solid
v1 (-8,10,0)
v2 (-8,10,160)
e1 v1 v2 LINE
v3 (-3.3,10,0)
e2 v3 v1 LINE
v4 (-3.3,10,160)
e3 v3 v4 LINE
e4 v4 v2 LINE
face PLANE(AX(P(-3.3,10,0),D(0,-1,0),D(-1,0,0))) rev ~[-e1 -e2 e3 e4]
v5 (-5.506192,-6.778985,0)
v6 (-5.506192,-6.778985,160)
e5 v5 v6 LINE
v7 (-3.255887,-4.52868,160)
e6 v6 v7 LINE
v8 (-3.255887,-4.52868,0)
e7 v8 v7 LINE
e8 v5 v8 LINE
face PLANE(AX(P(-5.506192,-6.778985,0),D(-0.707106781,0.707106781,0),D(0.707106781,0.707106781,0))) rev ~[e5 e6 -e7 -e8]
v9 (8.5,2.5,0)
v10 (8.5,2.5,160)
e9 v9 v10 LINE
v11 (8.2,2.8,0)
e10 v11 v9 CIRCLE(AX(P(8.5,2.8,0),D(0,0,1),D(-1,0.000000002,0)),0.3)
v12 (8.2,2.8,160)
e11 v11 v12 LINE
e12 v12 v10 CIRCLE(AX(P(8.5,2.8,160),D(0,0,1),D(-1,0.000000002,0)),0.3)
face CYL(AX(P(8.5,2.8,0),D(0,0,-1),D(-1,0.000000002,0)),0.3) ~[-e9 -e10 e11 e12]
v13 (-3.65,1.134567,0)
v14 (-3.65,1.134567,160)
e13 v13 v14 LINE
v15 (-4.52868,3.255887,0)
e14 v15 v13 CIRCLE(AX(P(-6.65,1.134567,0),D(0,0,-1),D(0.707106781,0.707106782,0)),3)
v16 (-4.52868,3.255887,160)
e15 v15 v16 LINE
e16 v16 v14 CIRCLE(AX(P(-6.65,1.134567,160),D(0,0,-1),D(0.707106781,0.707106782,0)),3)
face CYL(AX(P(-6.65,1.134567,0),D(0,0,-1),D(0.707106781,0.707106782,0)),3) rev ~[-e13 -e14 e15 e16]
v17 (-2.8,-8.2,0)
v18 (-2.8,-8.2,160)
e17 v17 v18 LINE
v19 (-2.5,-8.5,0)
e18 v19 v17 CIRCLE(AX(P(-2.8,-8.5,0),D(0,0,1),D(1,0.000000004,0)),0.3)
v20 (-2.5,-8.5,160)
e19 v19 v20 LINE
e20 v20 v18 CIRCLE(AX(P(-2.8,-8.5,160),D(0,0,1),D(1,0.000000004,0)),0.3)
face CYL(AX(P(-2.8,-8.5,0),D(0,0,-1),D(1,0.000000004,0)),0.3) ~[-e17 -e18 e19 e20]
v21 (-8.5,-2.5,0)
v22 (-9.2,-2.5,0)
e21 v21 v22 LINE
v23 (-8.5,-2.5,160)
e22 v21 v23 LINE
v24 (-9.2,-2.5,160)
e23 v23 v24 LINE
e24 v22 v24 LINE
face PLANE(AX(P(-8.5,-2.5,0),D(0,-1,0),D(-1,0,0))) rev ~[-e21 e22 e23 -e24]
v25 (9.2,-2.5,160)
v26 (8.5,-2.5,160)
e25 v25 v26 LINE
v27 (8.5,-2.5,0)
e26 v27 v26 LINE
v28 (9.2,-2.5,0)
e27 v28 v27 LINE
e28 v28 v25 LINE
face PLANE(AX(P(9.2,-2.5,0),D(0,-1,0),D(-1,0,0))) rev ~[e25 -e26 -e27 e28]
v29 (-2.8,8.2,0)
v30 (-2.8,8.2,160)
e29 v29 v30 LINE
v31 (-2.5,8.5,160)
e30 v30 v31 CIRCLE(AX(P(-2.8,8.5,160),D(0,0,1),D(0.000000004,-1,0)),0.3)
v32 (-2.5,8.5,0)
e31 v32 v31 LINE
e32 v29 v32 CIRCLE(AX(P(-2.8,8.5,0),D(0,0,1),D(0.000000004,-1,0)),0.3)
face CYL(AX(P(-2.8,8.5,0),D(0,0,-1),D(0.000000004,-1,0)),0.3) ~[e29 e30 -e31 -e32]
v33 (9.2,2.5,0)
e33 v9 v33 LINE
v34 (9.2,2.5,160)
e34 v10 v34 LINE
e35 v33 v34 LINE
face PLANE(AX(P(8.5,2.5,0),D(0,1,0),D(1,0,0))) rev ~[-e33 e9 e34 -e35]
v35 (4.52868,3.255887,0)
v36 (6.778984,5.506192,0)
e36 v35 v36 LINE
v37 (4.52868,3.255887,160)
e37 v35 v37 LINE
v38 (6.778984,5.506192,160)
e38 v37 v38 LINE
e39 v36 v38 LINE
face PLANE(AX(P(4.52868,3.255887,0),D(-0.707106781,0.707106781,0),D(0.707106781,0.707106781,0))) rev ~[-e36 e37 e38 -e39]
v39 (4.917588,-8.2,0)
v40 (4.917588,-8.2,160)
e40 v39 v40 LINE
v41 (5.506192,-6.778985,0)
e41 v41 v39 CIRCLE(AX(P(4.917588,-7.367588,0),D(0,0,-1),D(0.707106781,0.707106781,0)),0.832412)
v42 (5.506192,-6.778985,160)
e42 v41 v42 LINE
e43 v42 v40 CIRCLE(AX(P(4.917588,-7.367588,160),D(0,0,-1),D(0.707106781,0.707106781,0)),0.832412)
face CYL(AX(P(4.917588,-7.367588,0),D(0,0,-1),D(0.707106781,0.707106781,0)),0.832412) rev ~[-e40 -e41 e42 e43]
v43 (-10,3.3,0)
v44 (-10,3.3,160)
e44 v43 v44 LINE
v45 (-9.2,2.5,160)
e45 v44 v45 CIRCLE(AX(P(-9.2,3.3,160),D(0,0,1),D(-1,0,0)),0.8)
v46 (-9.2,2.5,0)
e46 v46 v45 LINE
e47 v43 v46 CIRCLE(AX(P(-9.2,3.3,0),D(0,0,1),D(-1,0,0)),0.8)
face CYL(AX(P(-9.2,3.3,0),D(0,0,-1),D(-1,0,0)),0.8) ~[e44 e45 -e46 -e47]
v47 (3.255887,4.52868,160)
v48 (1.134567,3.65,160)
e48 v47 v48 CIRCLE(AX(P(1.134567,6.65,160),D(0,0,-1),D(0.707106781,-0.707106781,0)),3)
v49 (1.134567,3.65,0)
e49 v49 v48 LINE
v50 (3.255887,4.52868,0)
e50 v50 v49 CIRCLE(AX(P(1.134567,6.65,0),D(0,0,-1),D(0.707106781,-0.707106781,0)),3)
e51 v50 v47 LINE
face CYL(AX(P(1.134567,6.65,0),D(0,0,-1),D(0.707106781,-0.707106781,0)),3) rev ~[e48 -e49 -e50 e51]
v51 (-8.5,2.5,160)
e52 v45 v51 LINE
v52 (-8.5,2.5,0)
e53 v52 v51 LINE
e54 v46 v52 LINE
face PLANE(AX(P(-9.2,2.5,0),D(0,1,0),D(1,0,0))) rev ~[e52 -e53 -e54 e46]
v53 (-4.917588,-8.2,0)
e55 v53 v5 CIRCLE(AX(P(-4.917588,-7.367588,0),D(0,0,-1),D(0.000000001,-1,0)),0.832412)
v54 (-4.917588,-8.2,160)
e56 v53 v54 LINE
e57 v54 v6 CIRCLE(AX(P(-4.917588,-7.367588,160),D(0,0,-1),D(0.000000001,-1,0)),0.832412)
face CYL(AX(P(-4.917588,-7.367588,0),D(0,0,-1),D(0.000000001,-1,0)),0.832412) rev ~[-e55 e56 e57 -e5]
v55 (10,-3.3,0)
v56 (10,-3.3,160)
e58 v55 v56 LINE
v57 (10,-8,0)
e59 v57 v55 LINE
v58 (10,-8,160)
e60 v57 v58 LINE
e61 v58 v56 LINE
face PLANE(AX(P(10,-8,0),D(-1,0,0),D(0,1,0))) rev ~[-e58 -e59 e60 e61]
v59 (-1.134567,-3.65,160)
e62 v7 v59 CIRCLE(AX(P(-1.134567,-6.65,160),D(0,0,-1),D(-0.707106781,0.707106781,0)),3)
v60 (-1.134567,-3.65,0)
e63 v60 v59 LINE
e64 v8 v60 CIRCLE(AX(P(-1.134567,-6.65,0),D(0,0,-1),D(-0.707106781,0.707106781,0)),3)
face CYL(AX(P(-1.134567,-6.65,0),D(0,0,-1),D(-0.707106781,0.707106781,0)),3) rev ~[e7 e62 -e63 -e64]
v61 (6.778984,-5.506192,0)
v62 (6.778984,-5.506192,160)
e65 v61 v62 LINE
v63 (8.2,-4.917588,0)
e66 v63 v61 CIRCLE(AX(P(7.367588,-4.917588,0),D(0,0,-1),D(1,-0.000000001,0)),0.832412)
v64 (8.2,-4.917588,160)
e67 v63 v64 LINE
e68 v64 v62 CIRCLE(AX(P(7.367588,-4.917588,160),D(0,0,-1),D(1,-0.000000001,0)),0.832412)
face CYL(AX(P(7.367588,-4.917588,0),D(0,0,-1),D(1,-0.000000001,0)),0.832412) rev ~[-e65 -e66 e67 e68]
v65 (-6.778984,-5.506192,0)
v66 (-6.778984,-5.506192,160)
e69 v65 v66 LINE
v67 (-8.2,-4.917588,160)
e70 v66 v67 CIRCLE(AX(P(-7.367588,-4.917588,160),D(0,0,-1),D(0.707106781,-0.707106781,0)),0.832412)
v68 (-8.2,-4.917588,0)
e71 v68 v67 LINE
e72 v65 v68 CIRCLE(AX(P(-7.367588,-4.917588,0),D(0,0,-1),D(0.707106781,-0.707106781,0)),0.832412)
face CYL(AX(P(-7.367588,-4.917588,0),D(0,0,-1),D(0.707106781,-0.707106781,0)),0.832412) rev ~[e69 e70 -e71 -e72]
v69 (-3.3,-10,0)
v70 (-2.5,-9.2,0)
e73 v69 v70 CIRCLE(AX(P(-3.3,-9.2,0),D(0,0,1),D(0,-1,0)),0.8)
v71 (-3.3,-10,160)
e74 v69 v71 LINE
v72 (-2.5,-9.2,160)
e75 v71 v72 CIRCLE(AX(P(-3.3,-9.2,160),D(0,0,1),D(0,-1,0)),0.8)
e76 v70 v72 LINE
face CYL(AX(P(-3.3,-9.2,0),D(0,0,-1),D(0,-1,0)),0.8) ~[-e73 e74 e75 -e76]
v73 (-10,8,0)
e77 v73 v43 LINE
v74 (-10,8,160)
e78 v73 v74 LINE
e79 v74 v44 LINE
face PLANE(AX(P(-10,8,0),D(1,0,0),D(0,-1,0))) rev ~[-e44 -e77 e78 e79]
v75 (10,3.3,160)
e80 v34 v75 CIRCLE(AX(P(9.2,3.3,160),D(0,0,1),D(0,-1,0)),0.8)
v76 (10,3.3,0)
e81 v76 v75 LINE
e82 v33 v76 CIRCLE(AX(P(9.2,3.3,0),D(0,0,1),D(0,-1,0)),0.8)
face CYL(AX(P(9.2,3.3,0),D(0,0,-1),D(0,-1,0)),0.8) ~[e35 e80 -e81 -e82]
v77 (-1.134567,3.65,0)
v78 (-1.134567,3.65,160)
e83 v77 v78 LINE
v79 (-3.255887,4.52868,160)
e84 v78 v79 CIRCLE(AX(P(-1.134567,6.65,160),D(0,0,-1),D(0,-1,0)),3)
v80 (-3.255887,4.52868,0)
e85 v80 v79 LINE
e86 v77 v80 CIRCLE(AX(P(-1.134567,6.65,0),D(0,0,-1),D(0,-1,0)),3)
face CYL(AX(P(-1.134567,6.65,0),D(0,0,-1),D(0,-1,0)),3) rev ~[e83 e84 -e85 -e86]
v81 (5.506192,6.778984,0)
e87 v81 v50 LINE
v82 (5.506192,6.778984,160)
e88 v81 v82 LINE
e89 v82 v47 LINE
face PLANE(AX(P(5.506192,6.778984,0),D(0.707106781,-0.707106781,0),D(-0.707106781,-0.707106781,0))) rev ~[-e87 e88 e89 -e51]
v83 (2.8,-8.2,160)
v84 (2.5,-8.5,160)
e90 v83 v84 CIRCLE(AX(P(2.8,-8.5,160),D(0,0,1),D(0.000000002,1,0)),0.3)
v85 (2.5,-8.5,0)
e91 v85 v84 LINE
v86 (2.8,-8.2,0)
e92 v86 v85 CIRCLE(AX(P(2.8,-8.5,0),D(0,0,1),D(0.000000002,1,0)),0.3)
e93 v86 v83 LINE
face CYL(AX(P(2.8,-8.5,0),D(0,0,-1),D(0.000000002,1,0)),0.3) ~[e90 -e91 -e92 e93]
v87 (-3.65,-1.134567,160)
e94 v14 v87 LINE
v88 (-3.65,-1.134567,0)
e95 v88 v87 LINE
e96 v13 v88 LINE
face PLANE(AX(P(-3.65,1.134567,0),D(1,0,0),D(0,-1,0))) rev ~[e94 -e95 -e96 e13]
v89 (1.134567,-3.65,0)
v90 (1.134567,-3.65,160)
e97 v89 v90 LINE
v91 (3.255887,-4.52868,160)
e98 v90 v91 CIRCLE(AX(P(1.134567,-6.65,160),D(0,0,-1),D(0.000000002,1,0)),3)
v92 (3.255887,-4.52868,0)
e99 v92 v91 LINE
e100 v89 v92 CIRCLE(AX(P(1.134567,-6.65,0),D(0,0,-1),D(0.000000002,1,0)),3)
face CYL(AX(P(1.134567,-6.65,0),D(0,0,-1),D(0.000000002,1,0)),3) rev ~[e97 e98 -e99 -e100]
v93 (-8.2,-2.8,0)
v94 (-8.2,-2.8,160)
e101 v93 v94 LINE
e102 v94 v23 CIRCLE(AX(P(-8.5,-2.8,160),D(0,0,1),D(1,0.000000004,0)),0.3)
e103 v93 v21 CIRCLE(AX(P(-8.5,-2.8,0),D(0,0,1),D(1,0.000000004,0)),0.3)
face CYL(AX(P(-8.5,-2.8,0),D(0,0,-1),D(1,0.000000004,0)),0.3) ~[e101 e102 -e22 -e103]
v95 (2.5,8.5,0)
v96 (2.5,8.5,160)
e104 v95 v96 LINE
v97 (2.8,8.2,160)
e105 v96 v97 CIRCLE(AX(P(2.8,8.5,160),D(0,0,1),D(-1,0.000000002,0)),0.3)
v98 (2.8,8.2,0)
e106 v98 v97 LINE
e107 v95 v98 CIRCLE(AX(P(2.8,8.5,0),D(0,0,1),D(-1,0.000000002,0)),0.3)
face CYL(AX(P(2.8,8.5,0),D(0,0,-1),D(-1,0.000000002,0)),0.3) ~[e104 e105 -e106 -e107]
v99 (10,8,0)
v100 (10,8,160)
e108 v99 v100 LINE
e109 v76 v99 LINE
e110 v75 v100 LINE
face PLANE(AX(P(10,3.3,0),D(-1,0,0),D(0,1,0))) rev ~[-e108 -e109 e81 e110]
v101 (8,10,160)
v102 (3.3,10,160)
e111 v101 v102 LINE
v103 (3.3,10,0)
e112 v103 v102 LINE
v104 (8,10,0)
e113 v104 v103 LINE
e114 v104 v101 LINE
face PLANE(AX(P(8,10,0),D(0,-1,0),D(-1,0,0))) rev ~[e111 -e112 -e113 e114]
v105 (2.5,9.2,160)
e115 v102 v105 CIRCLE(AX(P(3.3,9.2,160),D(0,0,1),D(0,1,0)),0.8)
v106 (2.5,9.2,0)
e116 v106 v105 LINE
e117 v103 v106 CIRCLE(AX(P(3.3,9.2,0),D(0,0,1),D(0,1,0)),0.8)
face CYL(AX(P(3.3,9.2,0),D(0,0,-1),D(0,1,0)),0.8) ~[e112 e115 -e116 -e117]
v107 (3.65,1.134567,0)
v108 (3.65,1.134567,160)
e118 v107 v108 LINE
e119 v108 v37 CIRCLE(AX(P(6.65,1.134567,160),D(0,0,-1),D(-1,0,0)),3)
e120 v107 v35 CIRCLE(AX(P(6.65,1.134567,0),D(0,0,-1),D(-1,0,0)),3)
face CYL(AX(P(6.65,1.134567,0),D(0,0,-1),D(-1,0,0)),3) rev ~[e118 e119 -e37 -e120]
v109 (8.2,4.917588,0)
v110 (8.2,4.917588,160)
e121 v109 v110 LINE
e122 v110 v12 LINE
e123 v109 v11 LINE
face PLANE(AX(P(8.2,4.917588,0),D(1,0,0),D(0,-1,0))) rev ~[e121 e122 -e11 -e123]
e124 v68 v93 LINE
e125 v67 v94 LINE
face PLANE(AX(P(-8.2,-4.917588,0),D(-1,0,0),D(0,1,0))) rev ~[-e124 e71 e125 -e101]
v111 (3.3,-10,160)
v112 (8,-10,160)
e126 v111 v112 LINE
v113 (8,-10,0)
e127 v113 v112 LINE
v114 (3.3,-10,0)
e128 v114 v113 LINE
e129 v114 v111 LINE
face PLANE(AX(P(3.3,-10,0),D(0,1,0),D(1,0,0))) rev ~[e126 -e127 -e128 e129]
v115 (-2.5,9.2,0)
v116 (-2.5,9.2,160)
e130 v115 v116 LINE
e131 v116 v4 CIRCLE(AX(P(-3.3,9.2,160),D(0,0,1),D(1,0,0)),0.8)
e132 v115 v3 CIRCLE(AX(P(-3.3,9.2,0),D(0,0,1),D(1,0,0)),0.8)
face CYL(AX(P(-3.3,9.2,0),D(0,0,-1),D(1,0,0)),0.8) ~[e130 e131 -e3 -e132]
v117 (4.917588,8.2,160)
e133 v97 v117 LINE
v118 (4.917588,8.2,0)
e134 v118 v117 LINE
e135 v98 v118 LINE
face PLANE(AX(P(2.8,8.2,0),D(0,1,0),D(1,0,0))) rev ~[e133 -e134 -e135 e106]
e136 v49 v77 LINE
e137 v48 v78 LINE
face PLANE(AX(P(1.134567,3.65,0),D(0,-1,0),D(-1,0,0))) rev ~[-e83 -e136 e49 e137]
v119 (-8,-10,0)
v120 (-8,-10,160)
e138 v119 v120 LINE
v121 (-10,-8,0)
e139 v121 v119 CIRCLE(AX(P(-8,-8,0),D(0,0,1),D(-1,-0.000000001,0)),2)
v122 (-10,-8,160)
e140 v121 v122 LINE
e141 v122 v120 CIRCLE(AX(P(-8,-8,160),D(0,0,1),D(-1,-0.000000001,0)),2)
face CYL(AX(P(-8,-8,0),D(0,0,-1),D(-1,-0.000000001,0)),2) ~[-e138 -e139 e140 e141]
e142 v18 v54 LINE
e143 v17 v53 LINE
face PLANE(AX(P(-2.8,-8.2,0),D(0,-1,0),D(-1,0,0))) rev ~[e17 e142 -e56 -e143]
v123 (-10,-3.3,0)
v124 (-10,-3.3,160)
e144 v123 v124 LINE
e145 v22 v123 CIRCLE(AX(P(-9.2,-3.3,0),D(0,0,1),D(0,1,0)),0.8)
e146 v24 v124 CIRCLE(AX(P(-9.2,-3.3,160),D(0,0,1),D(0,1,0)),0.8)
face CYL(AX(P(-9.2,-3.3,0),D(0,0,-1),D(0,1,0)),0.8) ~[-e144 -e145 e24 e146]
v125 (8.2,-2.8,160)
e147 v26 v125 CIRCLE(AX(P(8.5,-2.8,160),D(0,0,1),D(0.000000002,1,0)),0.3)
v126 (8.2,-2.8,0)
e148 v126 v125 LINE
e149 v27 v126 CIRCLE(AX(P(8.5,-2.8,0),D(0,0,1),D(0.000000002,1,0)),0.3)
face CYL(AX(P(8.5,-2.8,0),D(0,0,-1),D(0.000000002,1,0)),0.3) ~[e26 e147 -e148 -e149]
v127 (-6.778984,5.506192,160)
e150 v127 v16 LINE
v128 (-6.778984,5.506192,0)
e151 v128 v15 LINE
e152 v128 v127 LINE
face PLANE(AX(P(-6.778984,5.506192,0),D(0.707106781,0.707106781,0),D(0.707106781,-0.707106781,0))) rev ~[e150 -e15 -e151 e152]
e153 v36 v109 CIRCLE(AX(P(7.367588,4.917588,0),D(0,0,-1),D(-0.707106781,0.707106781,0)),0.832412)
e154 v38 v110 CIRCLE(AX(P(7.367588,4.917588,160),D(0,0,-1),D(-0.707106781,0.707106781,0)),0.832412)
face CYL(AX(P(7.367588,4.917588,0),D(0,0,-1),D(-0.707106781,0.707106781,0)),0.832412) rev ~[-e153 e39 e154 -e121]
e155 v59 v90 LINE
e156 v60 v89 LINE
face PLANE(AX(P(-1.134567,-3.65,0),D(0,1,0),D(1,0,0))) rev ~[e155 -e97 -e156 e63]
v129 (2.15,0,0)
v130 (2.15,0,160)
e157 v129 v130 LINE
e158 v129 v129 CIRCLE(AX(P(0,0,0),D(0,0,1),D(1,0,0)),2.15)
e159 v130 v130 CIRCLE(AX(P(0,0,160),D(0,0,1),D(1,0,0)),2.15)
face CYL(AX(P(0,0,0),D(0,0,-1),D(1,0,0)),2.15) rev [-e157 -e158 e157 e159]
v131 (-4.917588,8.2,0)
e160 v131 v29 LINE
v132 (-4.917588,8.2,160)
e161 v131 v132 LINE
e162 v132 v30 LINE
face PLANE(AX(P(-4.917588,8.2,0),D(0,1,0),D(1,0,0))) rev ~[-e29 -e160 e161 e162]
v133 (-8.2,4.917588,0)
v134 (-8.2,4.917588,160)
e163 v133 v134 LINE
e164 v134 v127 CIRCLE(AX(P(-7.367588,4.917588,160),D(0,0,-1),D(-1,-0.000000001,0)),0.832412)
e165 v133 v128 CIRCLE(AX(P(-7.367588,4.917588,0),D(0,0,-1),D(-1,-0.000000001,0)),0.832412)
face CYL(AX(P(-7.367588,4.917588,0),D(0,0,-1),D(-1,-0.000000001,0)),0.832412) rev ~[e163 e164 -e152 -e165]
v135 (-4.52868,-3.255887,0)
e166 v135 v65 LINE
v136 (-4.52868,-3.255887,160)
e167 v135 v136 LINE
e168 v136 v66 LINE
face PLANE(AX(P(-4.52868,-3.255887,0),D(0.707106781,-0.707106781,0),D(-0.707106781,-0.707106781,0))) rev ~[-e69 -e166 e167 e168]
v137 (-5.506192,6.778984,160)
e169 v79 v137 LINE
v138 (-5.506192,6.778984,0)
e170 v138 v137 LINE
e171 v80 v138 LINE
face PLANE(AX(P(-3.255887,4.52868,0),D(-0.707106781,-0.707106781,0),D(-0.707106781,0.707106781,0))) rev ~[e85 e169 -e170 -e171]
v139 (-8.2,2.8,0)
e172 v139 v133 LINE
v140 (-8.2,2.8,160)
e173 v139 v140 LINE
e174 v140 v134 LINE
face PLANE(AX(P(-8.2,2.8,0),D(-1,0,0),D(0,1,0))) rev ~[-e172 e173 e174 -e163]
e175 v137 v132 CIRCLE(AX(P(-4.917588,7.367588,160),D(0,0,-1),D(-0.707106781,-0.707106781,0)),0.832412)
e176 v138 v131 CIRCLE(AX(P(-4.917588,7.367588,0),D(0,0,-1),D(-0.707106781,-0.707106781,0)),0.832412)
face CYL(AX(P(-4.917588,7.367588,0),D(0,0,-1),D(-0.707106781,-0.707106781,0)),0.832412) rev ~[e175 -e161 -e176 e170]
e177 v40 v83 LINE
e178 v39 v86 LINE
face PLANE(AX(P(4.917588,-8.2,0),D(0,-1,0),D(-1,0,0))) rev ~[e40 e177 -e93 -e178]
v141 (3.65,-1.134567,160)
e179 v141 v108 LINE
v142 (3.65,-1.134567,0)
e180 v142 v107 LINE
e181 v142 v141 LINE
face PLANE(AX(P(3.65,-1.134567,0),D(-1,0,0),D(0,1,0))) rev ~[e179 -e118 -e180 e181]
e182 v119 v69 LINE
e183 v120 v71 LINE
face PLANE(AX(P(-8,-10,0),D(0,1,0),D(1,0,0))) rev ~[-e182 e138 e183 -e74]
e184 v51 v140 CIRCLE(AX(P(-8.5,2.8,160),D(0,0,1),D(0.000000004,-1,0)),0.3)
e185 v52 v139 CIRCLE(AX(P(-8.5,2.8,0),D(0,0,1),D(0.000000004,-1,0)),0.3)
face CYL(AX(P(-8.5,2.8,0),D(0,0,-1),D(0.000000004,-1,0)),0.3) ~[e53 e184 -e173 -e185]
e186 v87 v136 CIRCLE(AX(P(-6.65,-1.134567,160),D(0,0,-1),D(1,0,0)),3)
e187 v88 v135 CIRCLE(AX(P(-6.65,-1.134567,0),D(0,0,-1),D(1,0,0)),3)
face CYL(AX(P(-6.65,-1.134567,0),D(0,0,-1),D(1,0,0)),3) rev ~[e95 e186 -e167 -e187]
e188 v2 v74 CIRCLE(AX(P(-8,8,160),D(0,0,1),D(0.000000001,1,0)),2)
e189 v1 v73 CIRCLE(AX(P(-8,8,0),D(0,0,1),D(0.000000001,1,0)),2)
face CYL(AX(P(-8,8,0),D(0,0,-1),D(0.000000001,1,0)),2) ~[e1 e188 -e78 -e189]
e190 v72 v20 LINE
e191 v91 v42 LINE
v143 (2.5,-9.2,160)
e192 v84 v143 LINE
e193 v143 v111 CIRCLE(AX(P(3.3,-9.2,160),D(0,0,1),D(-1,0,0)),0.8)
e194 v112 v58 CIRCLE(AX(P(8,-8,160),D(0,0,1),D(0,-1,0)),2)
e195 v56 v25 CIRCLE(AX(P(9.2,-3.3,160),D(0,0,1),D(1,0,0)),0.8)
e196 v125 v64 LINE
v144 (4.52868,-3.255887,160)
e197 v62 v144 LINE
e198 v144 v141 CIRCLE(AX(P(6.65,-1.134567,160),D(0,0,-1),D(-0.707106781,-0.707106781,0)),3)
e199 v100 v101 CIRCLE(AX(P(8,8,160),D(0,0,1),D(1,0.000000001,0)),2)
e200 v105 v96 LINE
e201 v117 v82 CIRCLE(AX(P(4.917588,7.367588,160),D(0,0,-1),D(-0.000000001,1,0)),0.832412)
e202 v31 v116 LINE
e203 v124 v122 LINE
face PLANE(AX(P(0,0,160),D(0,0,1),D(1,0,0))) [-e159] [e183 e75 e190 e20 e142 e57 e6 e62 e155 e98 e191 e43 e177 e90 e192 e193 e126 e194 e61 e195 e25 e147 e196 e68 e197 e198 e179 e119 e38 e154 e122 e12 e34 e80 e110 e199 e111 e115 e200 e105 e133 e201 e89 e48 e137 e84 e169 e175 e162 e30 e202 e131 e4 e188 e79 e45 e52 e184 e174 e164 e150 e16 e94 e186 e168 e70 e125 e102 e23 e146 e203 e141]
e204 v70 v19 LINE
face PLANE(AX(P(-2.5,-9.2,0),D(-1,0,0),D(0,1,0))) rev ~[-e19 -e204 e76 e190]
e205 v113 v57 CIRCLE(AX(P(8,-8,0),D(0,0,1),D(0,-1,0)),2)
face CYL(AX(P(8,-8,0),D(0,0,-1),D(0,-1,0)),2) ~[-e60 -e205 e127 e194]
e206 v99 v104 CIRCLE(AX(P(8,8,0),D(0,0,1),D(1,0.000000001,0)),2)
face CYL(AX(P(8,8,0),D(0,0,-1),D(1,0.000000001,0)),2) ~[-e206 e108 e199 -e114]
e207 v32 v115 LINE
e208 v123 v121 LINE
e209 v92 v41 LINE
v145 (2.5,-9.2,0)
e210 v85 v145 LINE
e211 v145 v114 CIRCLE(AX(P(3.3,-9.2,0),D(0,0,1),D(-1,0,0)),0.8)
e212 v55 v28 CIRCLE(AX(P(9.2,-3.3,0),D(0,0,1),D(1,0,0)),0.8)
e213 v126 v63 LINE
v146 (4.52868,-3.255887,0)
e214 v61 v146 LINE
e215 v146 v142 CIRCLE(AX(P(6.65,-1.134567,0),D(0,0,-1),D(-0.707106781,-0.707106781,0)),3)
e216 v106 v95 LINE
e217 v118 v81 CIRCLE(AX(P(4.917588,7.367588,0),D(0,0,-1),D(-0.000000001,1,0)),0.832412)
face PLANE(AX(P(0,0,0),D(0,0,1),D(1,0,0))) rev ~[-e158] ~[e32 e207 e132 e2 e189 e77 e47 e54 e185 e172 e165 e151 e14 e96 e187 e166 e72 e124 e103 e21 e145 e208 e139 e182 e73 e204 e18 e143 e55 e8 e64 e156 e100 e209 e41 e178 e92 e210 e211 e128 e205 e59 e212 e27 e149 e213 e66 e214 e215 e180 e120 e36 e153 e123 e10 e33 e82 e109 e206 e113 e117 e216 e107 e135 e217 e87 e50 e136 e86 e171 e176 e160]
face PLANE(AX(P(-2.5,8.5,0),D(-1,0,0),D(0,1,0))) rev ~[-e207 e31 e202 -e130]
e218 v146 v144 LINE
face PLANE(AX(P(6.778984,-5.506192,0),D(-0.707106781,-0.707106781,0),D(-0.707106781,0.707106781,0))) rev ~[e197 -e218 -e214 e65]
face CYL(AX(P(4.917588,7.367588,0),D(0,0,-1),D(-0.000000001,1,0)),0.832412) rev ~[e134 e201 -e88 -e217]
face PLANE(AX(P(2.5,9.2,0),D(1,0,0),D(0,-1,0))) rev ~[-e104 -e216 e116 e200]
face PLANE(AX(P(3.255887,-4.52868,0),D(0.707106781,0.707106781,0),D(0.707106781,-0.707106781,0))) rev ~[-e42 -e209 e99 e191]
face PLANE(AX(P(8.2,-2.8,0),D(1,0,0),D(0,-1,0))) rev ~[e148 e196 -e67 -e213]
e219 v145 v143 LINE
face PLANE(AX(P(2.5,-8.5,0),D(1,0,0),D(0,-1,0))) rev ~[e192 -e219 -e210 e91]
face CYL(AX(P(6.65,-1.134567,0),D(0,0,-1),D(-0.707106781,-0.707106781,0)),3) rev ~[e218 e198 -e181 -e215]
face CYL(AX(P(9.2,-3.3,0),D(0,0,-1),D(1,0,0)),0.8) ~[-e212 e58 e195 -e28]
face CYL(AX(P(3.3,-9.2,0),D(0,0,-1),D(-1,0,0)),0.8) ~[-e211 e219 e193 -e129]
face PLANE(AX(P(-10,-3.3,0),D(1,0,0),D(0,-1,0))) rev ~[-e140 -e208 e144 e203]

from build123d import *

# Parameters (mm, degrees)
BOSS_EXTRU_1_DEPTH = 160


with BuildPart() as part:
    # Esquisse1 → Boss.-Extru.1 (new body)
    with BuildSketch(Plane.XY):
        with BuildLine():
            Line((-3.255887446, 4.528679645), (-5.506192286, 6.778984485))
            ThreePointArc((-5.506192286, 6.778984485), (-5.686636441, 7.686138511), (-4.917588391, 8.199999989))
            Line((-4.917588391, 8.199999989), (-2.799999991, 8.199999989))
            ThreePointArc((-2.799999991, 8.199999989), (-2.587867957, 8.287867955), (-2.499999991, 8.499999989))
            Line((-2.499999991, 8.499999989), (-2.499999991, 9.199999989))
            ThreePointArc((-2.499999991, 9.199999989), (-2.734314566, 9.765685414), (-3.299999991, 9.999999989))
            Line((-3.299999991, 9.999999989), (-7.999999991, 9.999999989))
            ThreePointArc((-7.999999991, 9.999999989), (-9.414213554, 9.414213552), (-9.999999991, 7.999999989))
            Line((-9.999999991, 7.999999989), (-9.999999991, 3.299999989))
            ThreePointArc((-9.999999991, 3.299999989), (-9.765685416, 2.734314564), (-9.199999991, 2.499999989))
            Line((-9.199999991, 2.499999989), (-8.499999991, 2.499999989))
            ThreePointArc((-8.499999991, 2.499999989), (-8.287867957, 2.587867955), (-8.199999991, 2.799999989))
            Line((-8.199999991, 2.799999989), (-8.199999991, 4.917588389))
            ThreePointArc((-8.199999991, 4.917588389), (-7.686138517, 5.686636433), (-6.778984497, 5.506192279))
            Line((-6.778984497, 5.506192279), (-4.528679657, 3.255887439))
            ThreePointArc((-4.528679657, 3.255887439), (-3.878361403, 2.282617393), (-3.650000001, 1.134567096))
            Line((-3.650000001, 1.134567096), (-3.650000001, -1.134567114))
            ThreePointArc((-3.650000001, -1.134567114), (-3.878361403, -2.282617409), (-4.528679656, -3.255887454))
            Line((-4.528679656, -3.255887454), (-6.778984496, -5.506192294))
            ThreePointArc((-6.778984496, -5.506192294), (-7.686138522, -5.686636449), (-8.2, -4.9175884))
            Line((-8.2, -4.9175884), (-8.2, -2.8))
            ThreePointArc((-8.2, -2.8), (-8.287867966, -2.587867966), (-8.5, -2.5))
            Line((-8.5, -2.5), (-9.2, -2.5))
            ThreePointArc((-9.2, -2.5), (-9.765685425, -2.734314575), (-10, -3.3))
            Line((-10, -3.3), (-10, -8))
            ThreePointArc((-10, -8), (-9.414213562, -9.414213562), (-8, -10))
            Line((-8, -10), (-3.3, -10))
            ThreePointArc((-3.3, -10), (-2.734314575, -9.765685425), (-2.5, -9.2))
            Line((-2.5, -9.2), (-2.5, -8.5))
            ThreePointArc((-2.5, -8.5), (-2.587867966, -8.287867966), (-2.8, -8.2))
            Line((-2.8, -8.2), (-4.9175884, -8.2))
            ThreePointArc((-4.9175884, -8.2), (-5.686636444, -7.686138526), (-5.50619229, -6.778984506))
            Line((-5.50619229, -6.778984506), (-3.25588745, -4.528679666))
            ThreePointArc((-3.25588745, -4.528679666), (-2.282617404, -3.878361412), (-1.134567106, -3.650000009))
            Line((-1.134567106, -3.650000009), (1.134567104, -3.650000009))
            ThreePointArc((1.134567104, -3.650000009), (2.282617399, -3.878361412), (3.255887444, -4.528679664))
            Line((3.255887444, -4.528679664), (5.506192284, -6.778984504))
            ThreePointArc((5.506192284, -6.778984504), (5.686636439, -7.686138531), (4.917588389, -8.200000009))
            Line((4.917588389, -8.200000009), (2.799999989, -8.200000009))
            ThreePointArc((2.799999989, -8.200000009), (2.587867955, -8.287867974), (2.499999989, -8.500000009))
            Line((2.499999989, -8.500000009), (2.499999989, -9.200000009))
            ThreePointArc((2.499999989, -9.200000009), (2.734314564, -9.765685434), (3.299999989, -10.000000009))
            Line((3.299999989, -10.000000009), (7.999999989, -10.000000009))
            ThreePointArc((7.999999989, -10.000000009), (9.414213552, -9.414213571), (9.999999989, -8.000000009))
            Line((9.999999989, -8.000000009), (9.999999989, -3.300000009))
            ThreePointArc((9.999999989, -3.300000009), (9.765685414, -2.734314584), (9.199999989, -2.500000009))
            Line((9.199999989, -2.500000009), (8.499999989, -2.500000009))
            ThreePointArc((8.499999989, -2.500000009), (8.287867955, -2.587867974), (8.199999989, -2.800000009))
            Line((8.199999989, -2.800000009), (8.199999989, -4.917588409))
            ThreePointArc((8.199999989, -4.917588409), (7.686138515, -5.686636452), (6.778984495, -5.506192299))
            Line((6.778984495, -5.506192299), (4.528679655, -3.255887459))
            ThreePointArc((4.528679655, -3.255887459), (3.878361401, -2.282617412), (3.649999999, -1.134567115))
            Line((3.649999999, -1.134567115), (3.649999999, 1.134567095))
            ThreePointArc((3.649999999, 1.134567095), (3.878361401, 2.28261739), (4.528679654, 3.255887435))
            Line((4.528679654, 3.255887435), (6.778984494, 5.506192275))
            ThreePointArc((6.778984494, 5.506192275), (7.68613852, 5.68663643), (8.199999998, 4.917588381))
            Line((8.199999998, 4.917588381), (8.199999998, 2.799999981))
            ThreePointArc((8.199999998, 2.799999981), (8.287867964, 2.587867946), (8.499999998, 2.499999981))
            Line((8.499999998, 2.499999981), (9.199999998, 2.499999981))
            ThreePointArc((9.199999998, 2.499999981), (9.765685423, 2.734314556), (9.999999998, 3.299999981))
            Line((9.999999998, 3.299999981), (9.999999998, 7.999999981))
            ThreePointArc((9.999999998, 7.999999981), (9.41421356, 9.414213543), (7.999999998, 9.999999981))
            Line((7.999999998, 9.999999981), (3.299999998, 9.999999981))
            ThreePointArc((3.299999998, 9.999999981), (2.734314573, 9.765685406), (2.499999998, 9.199999981))
            Line((2.499999998, 9.199999981), (2.499999998, 8.499999981))
            ThreePointArc((2.499999998, 8.499999981), (2.587867964, 8.287867946), (2.799999998, 8.199999981))
            Line((2.799999998, 8.199999981), (4.917588398, 8.199999981))
            ThreePointArc((4.917588398, 8.199999981), (5.686636442, 7.686138507), (5.506192288, 6.778984487))
            Line((5.506192288, 6.778984487), (3.255887448, 4.528679647))
            ThreePointArc((3.255887448, 4.528679647), (2.282617402, 3.878361393), (1.134567104, 3.64999999))
            Line((1.134567104, 3.64999999), (-1.134567106, 3.64999999))
            ThreePointArc((-1.134567106, 3.64999999), (-2.282617401, 3.878361392), (-3.255887446, 4.528679645))
        make_face()
        with BuildLine():
            ThreePointArc((-2.15, 0), (0, -2.15), (2.15, 0))
            ThreePointArc((2.15, 0), (0, 2.15), (-2.15, 0))
        make_face(mode=Mode.SUBTRACT)
    extrude(amount=BOSS_EXTRU_1_DEPTH)


solid = part.part
